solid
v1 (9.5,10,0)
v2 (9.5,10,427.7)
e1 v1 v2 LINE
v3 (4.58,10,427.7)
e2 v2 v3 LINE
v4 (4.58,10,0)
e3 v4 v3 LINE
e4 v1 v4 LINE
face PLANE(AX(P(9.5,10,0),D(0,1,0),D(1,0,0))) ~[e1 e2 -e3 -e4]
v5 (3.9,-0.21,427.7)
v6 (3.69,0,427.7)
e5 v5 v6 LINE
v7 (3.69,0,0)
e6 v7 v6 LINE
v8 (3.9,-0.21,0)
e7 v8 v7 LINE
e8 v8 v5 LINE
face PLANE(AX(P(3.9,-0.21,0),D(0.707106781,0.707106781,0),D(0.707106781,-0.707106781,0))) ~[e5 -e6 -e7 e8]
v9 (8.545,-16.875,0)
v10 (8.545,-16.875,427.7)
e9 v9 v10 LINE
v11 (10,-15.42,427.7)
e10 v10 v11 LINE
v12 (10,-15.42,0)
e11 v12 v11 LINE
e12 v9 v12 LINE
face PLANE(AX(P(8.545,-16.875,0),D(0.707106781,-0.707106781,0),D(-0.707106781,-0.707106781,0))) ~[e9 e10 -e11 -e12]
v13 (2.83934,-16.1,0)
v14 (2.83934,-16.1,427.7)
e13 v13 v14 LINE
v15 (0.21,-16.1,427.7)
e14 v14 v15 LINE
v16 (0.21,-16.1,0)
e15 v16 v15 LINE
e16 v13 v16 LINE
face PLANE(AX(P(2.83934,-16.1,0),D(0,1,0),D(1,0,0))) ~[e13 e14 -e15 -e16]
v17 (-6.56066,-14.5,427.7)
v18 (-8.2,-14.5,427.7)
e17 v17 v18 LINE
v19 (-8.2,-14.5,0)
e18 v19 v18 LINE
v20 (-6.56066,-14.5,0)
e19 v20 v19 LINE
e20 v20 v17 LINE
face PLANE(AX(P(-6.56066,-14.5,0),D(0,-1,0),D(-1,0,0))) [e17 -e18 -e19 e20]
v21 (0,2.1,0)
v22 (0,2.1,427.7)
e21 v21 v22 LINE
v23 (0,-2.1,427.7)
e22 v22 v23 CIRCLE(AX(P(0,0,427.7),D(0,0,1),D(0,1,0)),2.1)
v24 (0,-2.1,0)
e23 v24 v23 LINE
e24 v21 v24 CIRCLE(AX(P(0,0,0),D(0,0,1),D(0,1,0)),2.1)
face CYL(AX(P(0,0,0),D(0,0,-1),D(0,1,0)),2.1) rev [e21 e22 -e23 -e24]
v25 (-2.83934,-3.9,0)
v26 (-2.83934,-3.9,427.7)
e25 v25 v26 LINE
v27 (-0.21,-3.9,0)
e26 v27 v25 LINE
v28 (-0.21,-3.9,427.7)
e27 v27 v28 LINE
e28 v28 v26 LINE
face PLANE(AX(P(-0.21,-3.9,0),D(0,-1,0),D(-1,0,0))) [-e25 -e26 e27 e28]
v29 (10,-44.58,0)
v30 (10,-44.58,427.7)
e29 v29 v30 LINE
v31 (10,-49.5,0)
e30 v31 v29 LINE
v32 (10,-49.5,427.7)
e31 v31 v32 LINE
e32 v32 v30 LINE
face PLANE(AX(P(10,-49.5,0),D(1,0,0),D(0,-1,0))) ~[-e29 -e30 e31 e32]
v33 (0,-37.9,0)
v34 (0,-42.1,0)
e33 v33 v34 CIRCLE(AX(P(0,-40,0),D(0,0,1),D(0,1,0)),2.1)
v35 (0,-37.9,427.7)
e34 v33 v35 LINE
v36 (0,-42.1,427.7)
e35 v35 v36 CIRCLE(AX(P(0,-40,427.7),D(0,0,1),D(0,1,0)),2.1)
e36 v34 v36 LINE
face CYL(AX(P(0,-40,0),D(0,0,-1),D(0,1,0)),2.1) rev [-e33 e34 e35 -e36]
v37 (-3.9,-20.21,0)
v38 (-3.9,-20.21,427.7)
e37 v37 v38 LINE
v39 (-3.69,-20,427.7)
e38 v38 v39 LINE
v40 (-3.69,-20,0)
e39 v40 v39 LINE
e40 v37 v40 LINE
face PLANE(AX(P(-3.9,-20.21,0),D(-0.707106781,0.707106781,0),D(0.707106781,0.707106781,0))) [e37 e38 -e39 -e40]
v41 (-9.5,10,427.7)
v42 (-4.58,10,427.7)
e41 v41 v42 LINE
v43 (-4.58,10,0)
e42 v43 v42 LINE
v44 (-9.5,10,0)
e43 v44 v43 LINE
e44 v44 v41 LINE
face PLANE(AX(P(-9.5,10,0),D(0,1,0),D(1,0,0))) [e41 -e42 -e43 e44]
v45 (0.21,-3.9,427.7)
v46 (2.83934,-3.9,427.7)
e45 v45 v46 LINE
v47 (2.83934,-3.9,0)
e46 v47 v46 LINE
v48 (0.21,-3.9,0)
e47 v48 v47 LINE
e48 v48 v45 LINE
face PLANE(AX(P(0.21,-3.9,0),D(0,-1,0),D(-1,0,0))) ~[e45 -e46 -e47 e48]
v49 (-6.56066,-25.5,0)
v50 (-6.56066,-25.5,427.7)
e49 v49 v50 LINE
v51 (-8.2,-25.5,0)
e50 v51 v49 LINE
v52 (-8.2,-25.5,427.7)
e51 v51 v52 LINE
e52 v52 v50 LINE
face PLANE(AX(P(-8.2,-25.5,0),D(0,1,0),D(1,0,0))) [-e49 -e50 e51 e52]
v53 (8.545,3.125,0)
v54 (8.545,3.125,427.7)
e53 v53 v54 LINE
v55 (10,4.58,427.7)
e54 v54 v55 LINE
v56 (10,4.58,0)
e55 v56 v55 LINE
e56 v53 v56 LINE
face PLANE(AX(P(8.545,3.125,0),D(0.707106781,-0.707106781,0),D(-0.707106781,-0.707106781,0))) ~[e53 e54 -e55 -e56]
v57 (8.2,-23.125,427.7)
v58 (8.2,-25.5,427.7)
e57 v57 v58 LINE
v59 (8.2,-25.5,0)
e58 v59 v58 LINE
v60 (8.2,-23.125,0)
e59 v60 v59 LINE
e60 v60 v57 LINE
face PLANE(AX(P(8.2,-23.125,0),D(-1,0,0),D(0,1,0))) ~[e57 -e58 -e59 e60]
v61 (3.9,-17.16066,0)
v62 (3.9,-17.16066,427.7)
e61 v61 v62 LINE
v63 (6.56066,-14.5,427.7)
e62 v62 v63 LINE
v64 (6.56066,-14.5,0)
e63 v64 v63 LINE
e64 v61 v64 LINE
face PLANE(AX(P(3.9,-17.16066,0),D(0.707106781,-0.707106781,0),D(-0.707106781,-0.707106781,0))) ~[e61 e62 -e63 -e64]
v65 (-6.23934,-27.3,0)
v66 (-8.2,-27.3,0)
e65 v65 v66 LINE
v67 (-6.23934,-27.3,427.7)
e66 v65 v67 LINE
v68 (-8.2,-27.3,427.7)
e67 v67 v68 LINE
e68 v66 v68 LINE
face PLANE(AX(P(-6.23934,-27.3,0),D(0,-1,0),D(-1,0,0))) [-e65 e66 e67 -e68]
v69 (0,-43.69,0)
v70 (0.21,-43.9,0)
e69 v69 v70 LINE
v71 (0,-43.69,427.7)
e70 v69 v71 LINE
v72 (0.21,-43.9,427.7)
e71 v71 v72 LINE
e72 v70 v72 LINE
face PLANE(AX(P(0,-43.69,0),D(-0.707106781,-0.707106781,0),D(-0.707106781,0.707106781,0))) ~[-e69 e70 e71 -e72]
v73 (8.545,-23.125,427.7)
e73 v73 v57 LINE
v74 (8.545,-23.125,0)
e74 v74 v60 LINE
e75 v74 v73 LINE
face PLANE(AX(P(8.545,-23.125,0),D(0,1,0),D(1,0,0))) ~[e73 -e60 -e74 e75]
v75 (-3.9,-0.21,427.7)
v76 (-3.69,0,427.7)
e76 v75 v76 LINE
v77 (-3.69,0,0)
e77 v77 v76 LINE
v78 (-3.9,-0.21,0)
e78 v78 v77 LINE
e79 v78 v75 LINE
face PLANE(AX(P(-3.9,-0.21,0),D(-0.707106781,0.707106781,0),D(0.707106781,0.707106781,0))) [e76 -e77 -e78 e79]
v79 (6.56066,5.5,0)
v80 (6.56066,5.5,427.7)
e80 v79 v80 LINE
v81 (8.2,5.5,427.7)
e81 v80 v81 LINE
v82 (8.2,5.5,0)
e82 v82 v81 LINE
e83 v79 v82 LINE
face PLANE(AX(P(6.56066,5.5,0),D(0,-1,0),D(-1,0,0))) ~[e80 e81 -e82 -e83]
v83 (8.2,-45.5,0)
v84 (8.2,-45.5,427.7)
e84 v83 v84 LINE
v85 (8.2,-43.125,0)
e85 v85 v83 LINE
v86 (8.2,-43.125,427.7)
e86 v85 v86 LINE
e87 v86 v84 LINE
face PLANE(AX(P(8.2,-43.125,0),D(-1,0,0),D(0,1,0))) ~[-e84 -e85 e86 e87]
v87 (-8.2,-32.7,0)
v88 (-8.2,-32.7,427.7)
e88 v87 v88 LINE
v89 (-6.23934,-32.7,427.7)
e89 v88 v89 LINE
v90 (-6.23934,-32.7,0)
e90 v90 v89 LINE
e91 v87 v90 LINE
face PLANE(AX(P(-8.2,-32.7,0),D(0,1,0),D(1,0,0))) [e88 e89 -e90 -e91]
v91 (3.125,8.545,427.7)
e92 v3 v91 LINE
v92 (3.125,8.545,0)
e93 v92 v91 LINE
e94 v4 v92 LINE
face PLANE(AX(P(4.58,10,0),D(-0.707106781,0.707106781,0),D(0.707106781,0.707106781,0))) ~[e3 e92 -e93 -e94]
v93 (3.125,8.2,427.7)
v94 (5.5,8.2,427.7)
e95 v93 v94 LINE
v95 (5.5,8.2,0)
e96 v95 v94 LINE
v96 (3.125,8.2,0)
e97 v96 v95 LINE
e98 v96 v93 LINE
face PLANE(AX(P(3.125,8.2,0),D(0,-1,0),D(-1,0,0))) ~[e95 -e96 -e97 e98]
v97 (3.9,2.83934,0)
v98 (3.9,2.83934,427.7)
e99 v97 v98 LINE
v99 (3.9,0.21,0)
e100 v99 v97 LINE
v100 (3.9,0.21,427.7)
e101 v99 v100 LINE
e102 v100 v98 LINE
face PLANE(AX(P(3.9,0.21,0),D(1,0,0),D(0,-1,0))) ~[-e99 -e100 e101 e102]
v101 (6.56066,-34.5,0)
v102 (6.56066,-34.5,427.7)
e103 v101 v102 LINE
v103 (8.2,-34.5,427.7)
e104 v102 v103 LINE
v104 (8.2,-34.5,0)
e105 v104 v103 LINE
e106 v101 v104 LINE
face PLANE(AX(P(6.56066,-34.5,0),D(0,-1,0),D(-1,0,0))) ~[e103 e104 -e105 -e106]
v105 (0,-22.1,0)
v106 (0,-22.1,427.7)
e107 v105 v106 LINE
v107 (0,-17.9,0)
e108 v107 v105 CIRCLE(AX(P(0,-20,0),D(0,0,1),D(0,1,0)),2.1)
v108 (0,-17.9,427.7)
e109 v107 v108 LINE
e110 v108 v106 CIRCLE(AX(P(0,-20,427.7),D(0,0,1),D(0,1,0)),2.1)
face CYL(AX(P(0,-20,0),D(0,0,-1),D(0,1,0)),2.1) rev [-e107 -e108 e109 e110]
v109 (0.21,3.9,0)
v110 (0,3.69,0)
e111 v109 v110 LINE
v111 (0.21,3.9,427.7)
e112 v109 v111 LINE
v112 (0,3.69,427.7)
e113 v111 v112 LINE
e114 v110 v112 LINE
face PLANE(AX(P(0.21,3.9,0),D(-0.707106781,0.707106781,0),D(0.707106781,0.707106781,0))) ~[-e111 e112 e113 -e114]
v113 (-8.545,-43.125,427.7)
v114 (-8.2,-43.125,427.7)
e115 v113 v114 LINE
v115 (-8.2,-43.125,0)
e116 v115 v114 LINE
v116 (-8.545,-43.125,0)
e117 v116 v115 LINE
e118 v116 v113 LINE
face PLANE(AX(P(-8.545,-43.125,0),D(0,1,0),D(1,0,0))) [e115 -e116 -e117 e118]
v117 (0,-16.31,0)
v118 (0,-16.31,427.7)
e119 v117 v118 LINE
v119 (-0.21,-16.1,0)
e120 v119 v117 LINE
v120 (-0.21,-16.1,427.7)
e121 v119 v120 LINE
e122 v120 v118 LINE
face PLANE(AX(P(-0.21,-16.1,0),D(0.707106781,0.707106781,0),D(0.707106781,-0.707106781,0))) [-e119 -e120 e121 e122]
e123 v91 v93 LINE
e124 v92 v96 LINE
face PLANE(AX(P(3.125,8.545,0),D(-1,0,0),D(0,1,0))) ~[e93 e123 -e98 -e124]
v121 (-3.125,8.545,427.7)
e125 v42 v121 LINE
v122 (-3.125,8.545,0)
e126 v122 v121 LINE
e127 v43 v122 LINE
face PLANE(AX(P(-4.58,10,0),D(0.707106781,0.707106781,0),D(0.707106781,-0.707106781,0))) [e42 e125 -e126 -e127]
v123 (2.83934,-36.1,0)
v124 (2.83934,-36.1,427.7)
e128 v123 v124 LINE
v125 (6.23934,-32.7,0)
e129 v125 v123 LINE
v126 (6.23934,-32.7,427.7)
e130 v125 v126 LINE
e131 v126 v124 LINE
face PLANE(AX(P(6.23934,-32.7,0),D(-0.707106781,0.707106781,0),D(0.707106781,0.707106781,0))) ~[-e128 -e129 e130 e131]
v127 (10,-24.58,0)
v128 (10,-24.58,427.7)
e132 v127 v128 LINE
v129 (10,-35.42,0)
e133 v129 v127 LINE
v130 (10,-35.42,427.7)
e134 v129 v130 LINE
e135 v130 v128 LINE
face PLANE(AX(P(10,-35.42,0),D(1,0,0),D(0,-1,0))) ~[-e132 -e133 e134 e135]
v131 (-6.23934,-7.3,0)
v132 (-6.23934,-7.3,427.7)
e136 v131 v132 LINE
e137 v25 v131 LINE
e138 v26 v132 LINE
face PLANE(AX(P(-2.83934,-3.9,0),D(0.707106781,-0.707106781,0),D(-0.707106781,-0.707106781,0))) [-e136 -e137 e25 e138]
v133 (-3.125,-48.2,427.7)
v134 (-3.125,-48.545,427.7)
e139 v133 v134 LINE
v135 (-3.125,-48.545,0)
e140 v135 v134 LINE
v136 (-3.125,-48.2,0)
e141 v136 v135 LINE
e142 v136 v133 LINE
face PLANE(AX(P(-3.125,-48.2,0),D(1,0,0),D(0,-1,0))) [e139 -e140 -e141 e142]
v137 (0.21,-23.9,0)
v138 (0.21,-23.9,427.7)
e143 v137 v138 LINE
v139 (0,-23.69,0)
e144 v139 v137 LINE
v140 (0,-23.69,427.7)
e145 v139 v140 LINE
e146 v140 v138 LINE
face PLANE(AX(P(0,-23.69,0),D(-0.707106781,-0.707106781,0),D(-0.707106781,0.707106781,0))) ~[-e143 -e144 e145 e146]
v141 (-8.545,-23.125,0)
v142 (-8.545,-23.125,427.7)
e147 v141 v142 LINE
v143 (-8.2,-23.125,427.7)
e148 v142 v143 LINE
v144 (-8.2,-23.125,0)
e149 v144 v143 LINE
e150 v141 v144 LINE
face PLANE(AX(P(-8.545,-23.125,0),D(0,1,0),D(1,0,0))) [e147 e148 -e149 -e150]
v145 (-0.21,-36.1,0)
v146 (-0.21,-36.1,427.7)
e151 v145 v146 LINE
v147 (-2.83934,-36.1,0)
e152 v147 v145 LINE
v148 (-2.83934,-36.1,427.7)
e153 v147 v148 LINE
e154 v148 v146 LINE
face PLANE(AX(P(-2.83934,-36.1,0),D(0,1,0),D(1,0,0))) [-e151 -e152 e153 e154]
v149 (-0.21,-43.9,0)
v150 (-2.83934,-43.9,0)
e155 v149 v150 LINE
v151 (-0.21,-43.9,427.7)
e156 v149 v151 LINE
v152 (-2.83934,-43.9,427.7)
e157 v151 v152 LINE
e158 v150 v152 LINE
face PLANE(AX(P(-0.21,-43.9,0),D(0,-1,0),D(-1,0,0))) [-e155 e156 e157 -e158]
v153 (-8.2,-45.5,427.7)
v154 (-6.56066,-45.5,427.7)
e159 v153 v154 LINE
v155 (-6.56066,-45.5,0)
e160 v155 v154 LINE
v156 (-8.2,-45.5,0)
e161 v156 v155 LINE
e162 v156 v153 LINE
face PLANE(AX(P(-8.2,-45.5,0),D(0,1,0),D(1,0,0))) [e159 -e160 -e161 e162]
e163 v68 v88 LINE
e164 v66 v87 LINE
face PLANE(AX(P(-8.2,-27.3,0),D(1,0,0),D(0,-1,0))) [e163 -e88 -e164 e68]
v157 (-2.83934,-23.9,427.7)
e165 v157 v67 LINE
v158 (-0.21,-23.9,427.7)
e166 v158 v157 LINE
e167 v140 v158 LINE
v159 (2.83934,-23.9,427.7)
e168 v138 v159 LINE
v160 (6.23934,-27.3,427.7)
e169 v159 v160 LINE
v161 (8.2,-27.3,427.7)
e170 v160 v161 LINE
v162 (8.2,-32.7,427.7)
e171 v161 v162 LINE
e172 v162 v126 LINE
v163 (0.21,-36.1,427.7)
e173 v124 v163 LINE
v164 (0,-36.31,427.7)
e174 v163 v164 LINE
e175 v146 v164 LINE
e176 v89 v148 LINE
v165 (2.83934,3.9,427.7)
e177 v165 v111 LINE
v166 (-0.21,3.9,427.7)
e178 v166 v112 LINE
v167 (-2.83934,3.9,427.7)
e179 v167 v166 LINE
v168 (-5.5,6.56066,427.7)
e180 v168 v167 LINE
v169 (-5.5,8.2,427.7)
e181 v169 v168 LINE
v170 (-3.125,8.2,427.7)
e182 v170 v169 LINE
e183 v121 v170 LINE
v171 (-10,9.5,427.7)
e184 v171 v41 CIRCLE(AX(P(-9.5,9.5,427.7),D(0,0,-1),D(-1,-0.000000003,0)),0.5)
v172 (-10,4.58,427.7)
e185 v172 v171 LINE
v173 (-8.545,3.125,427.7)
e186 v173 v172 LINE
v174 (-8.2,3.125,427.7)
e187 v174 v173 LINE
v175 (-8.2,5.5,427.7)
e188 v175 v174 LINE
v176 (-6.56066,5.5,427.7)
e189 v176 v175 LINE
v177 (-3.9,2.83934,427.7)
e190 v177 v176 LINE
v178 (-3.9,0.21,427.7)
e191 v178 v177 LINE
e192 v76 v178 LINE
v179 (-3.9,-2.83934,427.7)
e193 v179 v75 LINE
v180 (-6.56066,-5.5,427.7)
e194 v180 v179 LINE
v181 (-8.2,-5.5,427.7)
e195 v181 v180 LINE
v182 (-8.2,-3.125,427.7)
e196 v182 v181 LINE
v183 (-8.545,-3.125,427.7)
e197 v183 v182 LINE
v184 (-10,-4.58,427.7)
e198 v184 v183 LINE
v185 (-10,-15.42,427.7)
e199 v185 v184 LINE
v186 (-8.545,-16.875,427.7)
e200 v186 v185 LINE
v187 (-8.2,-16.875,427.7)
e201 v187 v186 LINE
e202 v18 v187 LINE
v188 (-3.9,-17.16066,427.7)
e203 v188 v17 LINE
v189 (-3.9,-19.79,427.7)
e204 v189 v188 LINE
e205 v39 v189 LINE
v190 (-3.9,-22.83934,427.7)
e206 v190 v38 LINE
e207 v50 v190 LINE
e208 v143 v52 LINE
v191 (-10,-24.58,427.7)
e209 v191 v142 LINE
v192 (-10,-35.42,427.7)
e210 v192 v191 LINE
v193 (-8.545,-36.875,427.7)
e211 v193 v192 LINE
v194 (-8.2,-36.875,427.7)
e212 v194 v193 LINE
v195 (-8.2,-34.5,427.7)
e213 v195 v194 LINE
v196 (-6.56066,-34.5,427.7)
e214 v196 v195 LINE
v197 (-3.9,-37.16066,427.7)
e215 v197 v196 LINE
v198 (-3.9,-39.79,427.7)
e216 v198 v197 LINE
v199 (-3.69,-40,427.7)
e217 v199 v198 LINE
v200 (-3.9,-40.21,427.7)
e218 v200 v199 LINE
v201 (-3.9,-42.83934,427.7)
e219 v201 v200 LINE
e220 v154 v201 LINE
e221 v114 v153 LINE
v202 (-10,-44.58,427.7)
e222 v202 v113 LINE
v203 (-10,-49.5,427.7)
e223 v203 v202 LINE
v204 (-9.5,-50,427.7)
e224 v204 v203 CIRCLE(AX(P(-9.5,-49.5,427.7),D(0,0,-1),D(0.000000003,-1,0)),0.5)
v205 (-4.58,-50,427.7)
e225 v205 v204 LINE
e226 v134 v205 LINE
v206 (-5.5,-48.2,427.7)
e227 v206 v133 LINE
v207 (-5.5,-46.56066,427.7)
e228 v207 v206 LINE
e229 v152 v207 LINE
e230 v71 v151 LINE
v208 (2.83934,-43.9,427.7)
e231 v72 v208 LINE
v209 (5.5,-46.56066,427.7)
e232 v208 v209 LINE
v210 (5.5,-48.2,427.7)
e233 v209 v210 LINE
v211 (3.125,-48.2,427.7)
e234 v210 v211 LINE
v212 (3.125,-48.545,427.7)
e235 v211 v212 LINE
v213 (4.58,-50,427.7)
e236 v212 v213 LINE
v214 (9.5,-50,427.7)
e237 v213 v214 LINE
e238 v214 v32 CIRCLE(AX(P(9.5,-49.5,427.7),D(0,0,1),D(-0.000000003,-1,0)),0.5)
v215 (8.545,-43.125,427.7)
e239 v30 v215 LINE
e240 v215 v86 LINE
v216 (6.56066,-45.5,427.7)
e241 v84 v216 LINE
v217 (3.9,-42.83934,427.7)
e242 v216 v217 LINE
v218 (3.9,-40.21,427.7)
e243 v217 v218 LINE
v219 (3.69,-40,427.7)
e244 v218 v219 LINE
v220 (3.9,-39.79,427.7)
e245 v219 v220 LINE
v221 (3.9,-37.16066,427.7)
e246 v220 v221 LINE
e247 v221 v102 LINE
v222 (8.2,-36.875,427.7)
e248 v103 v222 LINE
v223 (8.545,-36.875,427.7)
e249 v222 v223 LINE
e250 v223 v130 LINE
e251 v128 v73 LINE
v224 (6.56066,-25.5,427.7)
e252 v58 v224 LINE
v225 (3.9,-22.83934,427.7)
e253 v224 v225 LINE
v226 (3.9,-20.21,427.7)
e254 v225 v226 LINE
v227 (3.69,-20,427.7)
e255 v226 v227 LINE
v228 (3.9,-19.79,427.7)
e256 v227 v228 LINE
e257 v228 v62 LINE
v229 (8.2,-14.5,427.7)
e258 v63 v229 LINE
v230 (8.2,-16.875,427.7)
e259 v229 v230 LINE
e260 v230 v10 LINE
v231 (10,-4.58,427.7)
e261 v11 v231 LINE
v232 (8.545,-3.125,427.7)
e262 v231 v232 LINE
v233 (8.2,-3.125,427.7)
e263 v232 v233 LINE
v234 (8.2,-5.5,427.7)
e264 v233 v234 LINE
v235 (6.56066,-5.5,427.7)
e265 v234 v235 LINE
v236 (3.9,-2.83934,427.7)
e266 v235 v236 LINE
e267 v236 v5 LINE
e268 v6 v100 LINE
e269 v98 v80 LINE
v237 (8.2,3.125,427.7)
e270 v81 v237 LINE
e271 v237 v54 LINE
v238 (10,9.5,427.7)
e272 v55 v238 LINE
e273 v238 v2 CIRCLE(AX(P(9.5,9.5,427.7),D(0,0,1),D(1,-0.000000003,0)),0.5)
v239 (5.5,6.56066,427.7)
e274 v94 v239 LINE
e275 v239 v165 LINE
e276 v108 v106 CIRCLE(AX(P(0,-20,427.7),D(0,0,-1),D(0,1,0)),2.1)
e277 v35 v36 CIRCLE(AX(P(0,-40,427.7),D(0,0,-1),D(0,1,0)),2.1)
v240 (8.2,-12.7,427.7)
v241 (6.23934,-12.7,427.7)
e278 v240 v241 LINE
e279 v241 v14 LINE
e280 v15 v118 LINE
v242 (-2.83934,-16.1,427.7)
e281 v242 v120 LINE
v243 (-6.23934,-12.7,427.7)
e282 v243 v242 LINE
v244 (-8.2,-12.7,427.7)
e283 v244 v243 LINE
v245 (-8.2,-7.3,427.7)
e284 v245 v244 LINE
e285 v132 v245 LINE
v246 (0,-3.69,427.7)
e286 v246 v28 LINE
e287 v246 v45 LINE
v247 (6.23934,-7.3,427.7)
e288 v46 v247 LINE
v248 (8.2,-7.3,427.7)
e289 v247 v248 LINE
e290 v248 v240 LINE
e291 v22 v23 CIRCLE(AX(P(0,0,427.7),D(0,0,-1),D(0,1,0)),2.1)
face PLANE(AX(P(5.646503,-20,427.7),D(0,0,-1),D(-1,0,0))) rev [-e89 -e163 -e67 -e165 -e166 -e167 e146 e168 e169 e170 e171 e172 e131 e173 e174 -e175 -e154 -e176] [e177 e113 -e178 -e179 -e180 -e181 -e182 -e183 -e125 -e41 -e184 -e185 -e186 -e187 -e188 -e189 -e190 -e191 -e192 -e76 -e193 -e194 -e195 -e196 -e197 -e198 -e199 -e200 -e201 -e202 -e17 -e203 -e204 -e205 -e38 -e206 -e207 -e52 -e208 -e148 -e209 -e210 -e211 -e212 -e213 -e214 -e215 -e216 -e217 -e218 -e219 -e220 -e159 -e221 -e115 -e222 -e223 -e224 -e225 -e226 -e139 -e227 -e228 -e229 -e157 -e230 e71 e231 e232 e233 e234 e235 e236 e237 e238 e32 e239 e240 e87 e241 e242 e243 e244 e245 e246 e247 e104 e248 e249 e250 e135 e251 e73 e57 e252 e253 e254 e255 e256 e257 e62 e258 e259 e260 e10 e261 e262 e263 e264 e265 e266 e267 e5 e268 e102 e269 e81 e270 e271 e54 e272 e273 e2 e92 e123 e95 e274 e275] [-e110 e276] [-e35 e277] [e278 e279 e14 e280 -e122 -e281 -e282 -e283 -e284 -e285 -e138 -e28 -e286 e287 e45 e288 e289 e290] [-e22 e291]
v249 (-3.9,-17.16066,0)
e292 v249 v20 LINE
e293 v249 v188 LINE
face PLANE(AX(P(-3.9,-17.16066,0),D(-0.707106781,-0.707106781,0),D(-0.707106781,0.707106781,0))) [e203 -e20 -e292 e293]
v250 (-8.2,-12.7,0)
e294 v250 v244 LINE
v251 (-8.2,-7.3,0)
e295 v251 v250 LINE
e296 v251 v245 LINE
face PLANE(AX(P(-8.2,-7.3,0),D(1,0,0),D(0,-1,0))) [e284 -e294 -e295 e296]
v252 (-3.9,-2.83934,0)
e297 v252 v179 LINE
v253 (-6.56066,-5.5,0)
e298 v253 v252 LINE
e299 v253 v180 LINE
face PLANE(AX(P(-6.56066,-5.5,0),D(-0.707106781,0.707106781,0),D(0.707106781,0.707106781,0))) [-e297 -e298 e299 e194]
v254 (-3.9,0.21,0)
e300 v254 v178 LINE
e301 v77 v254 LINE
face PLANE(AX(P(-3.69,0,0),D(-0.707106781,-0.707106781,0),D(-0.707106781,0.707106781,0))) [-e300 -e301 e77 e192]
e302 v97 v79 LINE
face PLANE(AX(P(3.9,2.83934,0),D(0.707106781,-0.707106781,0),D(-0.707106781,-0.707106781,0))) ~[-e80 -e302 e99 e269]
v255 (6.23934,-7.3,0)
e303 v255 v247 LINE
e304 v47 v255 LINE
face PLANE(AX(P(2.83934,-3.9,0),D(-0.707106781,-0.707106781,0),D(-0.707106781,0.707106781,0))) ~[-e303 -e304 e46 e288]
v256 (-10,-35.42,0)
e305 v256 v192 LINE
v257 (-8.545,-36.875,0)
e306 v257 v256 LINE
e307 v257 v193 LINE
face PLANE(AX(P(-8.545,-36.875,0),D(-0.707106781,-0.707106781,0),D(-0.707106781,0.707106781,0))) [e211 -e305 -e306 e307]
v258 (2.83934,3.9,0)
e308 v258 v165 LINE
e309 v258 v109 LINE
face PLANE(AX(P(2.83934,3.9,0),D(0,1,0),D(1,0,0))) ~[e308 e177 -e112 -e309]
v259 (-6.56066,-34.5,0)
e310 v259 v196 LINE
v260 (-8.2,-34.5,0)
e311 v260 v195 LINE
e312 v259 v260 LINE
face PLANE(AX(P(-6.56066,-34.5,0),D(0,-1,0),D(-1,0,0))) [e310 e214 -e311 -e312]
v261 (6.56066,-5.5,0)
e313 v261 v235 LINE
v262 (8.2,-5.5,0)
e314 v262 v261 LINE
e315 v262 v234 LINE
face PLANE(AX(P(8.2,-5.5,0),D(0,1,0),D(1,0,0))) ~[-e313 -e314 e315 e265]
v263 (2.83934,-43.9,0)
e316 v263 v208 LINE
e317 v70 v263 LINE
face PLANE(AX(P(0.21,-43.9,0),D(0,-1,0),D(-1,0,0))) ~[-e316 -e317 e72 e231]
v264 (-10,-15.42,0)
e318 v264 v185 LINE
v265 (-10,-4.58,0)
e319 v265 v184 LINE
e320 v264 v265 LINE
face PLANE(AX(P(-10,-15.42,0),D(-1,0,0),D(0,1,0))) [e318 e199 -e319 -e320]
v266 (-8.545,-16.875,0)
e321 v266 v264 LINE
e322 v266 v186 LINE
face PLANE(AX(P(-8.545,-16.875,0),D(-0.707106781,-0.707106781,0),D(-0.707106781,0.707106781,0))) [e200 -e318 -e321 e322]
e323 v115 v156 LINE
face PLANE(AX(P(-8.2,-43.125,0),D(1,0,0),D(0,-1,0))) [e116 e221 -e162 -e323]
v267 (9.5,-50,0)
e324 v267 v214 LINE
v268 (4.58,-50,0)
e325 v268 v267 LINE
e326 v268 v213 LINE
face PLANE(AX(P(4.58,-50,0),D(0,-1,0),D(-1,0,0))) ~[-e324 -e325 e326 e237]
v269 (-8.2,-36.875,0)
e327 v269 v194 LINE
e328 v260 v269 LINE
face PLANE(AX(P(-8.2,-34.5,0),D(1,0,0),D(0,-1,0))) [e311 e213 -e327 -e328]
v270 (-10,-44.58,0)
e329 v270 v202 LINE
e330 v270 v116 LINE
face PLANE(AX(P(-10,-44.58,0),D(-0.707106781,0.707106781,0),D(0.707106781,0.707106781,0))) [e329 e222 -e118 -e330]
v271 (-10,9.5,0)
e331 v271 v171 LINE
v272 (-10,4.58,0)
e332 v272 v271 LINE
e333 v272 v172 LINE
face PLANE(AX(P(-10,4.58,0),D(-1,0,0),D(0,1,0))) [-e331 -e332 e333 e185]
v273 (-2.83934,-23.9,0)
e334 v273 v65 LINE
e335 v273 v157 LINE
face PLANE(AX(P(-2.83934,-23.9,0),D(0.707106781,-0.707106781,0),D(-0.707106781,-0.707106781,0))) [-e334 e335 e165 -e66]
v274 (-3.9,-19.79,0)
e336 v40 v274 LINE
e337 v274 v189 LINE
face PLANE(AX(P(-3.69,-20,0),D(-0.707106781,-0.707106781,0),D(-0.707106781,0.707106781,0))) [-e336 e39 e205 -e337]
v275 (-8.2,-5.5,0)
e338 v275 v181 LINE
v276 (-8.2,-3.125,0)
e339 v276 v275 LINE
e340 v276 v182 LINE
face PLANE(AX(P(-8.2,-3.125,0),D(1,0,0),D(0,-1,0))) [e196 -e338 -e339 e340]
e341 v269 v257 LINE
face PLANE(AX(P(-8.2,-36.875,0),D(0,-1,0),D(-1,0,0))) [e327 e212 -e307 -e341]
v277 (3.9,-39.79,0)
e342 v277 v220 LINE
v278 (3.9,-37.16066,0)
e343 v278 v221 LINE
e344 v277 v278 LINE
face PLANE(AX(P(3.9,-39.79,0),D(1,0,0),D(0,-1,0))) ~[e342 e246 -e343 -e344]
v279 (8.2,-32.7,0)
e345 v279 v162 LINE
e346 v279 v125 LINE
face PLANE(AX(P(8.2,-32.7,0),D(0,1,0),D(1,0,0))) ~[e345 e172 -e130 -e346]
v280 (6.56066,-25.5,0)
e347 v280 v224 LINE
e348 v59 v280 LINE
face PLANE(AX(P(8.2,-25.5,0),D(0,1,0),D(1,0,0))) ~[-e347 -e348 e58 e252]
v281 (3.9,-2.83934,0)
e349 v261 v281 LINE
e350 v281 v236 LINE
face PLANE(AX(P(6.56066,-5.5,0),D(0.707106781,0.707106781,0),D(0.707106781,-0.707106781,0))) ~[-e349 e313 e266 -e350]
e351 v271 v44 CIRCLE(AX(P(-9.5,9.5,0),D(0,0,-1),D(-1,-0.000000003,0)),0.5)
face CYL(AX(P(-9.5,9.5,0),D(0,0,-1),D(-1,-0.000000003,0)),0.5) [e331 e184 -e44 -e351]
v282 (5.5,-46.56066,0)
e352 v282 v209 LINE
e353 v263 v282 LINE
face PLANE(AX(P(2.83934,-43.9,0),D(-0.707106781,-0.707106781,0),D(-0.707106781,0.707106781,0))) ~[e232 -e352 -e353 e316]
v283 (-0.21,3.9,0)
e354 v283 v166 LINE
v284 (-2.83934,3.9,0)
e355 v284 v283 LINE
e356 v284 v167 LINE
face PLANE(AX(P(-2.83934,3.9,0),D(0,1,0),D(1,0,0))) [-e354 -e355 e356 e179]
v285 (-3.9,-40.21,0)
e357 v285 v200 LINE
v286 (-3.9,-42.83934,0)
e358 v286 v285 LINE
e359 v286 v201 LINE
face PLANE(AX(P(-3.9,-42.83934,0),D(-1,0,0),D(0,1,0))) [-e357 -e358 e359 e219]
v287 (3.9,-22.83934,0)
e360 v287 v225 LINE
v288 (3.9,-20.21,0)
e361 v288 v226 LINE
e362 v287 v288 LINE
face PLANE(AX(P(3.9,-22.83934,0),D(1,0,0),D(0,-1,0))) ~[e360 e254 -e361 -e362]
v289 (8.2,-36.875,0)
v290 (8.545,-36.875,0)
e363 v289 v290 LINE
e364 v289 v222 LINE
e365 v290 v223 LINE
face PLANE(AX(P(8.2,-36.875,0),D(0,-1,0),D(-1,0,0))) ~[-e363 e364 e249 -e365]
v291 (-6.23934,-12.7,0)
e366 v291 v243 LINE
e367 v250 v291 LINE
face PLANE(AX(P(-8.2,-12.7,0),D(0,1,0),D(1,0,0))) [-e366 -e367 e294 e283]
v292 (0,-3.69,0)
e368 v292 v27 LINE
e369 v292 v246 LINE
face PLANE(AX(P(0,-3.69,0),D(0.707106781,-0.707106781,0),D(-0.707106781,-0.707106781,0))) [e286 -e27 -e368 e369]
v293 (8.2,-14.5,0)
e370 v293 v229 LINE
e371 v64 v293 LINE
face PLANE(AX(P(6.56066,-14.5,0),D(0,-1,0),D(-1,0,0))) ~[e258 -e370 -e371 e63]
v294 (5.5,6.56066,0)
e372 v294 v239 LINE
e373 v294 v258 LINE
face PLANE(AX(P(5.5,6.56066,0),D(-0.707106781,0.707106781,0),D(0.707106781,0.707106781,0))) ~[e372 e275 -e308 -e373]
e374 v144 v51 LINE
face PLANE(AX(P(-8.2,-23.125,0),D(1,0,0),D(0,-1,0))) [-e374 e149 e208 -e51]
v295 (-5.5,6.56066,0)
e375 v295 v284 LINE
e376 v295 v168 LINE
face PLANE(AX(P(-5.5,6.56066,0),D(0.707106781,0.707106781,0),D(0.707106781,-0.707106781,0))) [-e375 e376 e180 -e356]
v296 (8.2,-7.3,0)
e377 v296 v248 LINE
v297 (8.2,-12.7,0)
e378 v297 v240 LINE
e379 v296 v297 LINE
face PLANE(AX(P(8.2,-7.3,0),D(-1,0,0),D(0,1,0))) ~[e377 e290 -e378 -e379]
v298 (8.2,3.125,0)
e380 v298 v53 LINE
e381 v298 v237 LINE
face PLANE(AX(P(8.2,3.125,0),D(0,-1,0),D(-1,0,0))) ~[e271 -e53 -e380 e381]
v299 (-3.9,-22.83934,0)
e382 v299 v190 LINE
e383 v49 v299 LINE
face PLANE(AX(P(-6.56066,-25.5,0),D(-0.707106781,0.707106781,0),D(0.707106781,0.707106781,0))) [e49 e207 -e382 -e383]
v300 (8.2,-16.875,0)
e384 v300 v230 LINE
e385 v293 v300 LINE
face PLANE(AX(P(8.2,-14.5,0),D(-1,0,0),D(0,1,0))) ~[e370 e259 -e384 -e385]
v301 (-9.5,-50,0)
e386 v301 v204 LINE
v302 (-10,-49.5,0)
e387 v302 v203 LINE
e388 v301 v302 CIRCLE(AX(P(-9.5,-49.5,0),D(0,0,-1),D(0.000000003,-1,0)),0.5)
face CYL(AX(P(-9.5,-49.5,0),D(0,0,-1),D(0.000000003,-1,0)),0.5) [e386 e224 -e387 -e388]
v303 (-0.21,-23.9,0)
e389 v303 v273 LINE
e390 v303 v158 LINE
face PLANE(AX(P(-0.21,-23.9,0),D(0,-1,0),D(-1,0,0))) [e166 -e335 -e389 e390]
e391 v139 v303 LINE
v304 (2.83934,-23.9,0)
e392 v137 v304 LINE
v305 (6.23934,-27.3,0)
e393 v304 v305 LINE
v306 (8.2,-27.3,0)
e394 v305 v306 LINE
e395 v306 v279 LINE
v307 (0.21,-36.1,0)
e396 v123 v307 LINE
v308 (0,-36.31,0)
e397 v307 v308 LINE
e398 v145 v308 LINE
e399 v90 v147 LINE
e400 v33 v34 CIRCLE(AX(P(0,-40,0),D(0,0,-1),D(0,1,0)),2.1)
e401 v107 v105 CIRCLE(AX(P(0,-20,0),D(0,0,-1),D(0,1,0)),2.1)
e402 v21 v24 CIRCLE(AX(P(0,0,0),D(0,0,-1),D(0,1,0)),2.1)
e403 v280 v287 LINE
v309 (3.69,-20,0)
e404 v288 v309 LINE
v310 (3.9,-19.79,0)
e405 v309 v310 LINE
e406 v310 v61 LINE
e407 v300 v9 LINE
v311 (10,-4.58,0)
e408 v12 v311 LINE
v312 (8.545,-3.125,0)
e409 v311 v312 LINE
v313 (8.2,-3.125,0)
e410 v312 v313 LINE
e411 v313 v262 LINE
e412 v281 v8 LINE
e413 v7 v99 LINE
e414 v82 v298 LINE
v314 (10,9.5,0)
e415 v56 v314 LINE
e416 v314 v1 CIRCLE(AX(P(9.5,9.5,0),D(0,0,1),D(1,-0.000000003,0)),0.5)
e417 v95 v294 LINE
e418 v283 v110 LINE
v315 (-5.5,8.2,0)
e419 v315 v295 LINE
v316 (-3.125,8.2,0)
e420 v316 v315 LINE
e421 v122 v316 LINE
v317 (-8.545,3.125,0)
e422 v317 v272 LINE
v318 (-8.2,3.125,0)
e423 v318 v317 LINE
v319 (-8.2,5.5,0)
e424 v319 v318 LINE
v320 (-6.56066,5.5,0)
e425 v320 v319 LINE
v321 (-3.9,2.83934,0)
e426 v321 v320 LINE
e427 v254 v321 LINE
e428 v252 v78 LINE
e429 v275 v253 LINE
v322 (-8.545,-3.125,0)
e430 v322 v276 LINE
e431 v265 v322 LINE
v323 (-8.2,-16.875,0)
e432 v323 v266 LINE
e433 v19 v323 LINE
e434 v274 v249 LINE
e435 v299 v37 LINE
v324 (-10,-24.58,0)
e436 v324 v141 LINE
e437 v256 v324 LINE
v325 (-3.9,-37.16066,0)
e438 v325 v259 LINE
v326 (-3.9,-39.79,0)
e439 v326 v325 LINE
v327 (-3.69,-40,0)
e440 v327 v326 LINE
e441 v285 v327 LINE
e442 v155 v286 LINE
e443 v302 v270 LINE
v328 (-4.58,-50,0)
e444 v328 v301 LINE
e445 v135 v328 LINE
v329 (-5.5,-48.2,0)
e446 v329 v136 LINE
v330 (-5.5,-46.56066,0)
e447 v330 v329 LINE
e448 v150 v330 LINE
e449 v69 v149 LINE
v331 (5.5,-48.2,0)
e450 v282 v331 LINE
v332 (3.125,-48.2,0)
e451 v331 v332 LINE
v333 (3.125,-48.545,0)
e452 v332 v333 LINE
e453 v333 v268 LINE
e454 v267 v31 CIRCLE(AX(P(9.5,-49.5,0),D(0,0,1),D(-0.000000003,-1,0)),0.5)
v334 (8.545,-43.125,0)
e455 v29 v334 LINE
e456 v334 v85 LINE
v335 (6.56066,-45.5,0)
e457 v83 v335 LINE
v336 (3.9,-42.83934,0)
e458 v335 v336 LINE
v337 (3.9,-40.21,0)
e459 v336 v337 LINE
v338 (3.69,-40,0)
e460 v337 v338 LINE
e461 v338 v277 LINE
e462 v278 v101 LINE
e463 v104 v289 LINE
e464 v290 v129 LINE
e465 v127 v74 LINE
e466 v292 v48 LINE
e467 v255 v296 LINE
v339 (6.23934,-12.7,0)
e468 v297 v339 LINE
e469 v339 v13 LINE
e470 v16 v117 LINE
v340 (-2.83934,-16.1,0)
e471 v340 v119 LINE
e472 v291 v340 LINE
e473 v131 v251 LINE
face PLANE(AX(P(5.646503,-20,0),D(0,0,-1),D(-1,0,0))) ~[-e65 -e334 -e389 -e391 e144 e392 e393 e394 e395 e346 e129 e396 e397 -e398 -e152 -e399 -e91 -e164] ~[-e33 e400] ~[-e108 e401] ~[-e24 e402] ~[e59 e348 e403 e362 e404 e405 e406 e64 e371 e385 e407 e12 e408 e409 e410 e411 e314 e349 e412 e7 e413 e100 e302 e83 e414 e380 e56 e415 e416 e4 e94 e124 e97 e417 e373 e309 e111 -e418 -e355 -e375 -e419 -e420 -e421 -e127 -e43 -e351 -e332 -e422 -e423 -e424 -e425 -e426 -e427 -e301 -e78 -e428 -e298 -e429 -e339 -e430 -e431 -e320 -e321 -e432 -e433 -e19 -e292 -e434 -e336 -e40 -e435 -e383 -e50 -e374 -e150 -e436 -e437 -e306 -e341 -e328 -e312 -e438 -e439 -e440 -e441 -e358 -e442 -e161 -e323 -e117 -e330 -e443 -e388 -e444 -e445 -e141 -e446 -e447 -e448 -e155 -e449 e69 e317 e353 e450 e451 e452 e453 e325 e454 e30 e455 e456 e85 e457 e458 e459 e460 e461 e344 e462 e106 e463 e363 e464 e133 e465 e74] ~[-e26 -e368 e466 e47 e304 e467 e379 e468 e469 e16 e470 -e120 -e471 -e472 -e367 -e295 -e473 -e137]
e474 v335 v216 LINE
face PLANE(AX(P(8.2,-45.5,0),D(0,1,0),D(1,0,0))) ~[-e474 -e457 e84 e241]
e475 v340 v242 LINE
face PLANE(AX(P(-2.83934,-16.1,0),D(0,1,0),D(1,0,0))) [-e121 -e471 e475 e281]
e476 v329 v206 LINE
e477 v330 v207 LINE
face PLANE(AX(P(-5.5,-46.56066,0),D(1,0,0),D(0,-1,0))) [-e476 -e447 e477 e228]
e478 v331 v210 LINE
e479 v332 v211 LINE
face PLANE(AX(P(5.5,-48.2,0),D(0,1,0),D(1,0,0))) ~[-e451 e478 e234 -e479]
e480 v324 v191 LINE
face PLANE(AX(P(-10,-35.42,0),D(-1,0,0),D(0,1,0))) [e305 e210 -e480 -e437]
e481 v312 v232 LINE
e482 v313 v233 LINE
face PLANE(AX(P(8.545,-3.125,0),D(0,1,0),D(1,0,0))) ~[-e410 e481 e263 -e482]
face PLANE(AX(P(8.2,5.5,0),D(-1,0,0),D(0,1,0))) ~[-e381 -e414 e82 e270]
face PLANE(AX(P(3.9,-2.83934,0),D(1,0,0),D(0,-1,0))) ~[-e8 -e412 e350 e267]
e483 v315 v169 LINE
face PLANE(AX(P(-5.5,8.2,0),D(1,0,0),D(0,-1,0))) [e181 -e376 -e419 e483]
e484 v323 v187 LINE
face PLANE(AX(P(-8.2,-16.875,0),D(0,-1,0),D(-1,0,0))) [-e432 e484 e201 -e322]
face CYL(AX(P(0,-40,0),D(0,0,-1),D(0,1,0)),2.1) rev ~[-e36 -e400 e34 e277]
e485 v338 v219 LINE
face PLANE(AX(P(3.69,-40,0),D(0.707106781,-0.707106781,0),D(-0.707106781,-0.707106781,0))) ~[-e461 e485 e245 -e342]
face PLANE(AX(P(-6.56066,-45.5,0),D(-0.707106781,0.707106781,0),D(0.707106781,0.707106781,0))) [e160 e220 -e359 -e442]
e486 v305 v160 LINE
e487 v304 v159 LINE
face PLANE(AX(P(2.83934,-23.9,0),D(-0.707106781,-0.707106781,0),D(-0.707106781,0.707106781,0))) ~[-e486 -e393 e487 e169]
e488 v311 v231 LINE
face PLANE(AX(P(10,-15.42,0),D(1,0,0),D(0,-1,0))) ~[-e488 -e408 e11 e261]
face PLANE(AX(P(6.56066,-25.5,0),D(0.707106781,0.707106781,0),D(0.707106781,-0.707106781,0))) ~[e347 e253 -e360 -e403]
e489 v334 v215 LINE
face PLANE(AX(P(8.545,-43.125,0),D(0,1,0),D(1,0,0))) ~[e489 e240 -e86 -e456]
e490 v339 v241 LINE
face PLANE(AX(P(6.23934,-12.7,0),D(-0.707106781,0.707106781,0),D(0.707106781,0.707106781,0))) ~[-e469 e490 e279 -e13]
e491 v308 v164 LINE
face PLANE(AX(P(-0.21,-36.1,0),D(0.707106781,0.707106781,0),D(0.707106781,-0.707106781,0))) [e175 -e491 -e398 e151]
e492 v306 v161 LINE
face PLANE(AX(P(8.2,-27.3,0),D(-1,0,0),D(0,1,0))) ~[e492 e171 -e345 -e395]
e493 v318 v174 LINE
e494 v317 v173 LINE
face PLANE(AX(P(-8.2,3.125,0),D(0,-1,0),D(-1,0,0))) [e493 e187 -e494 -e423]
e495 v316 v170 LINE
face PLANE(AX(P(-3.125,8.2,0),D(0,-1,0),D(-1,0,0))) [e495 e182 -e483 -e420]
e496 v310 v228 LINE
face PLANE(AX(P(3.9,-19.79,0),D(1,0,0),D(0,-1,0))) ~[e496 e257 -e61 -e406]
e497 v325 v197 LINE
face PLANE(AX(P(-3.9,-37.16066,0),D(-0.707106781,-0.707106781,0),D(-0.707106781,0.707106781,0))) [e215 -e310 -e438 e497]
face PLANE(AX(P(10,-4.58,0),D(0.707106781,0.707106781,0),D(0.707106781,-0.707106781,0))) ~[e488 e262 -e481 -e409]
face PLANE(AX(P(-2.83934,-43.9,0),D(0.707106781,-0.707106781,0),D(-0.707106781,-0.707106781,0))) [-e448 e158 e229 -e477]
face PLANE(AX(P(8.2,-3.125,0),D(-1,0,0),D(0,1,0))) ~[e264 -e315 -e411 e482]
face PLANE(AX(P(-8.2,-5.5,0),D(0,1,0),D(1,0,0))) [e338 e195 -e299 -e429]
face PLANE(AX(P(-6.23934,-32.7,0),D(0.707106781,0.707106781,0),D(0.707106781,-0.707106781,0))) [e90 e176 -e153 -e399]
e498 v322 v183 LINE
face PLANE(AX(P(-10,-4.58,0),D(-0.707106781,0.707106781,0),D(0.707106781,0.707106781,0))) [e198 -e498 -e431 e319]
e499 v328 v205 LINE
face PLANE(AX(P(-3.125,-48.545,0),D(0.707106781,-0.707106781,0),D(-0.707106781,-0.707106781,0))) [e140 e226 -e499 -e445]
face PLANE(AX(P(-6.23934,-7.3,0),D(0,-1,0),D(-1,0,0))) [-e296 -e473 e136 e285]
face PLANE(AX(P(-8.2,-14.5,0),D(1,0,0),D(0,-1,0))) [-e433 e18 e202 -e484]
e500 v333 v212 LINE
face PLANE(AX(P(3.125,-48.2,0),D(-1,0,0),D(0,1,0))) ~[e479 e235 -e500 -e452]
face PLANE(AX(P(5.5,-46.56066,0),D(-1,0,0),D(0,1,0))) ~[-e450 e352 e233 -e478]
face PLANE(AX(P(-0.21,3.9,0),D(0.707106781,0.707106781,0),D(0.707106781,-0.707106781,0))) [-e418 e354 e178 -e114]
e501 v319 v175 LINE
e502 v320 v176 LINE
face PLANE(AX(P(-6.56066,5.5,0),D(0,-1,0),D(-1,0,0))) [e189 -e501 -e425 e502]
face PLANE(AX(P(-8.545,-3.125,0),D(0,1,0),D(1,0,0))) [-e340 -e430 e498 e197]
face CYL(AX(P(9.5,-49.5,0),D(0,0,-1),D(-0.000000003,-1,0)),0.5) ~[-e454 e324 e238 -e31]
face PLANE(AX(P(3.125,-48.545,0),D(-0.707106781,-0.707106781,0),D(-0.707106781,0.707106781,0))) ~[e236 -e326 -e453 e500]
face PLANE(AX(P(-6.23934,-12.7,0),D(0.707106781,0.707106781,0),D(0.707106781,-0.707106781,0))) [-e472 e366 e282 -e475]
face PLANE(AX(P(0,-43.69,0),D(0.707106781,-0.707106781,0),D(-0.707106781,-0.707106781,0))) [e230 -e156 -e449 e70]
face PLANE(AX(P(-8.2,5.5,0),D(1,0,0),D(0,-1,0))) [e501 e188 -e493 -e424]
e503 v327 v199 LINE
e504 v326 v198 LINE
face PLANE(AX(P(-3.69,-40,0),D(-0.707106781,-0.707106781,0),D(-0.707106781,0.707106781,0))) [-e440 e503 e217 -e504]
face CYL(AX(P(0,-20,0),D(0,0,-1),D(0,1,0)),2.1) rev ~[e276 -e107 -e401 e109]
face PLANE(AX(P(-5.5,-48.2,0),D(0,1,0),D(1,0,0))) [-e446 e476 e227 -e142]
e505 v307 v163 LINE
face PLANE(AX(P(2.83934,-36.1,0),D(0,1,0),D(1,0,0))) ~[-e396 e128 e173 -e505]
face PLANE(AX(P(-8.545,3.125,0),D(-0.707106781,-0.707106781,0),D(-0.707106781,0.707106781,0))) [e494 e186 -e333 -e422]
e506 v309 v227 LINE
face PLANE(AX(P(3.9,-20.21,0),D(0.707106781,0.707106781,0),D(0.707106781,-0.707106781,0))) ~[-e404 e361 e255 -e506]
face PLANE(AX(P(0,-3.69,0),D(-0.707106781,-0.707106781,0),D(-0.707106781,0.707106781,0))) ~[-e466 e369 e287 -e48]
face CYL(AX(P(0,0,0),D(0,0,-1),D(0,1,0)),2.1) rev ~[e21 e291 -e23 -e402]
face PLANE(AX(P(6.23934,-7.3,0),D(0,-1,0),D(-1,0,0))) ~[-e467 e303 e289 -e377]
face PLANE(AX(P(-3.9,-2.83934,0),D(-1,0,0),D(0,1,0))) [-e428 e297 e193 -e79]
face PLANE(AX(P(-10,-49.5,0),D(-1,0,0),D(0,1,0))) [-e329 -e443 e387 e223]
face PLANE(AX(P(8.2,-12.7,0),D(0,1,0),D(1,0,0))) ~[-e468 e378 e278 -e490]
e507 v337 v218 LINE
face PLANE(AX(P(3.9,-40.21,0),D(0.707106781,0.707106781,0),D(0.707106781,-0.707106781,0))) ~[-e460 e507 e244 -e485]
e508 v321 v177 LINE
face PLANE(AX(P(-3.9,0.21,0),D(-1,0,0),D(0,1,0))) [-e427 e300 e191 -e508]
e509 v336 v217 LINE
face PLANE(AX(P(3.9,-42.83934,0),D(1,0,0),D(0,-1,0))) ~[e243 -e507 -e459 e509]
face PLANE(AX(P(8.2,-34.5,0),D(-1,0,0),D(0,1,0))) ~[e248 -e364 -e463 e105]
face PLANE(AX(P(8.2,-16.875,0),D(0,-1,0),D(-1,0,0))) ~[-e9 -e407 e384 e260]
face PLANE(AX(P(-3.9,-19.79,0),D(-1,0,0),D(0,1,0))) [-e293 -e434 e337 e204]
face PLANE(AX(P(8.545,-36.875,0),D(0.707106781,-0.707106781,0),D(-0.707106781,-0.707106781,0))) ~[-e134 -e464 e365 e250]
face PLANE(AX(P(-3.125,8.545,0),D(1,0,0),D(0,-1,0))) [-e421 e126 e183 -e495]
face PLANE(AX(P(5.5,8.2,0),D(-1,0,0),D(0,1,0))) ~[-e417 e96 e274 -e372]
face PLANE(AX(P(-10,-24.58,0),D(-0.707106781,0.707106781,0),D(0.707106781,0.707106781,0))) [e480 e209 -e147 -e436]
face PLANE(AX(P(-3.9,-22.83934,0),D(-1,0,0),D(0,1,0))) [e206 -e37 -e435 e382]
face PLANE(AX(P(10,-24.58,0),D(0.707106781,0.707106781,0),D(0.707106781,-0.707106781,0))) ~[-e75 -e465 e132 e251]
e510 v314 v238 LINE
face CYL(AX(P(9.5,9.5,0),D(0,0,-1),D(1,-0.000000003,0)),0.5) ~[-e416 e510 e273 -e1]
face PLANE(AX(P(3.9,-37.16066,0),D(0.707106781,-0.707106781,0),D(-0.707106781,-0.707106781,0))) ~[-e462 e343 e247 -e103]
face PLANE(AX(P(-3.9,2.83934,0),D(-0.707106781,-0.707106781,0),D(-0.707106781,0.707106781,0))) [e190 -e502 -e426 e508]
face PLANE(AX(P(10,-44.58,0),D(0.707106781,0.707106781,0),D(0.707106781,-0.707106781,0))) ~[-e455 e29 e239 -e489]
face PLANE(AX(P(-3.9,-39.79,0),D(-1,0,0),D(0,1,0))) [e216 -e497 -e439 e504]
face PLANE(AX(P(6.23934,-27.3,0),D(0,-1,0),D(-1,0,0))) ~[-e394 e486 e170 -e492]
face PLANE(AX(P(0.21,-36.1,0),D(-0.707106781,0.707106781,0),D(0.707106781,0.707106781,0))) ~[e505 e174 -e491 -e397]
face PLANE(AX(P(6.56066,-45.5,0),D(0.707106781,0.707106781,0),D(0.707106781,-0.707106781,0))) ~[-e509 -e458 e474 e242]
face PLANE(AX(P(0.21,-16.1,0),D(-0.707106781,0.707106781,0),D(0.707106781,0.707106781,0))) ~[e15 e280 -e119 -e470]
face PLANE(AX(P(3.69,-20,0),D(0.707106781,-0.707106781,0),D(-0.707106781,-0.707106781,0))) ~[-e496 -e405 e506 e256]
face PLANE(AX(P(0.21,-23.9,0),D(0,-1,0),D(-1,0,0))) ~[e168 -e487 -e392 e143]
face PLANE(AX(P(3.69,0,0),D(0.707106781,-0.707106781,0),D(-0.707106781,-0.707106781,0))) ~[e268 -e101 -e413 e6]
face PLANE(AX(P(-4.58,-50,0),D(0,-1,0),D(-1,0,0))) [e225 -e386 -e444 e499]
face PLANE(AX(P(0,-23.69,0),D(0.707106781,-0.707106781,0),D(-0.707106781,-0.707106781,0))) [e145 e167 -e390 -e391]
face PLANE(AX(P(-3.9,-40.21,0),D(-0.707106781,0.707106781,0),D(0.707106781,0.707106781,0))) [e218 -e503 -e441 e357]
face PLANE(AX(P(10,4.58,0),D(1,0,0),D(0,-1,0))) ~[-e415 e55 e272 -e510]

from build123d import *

# Parameters (mm, degrees)
BOSS_EXTRU_1_DEPTH = 427.7


with BuildPart() as part:
    # Esquisse1 → Boss.-Extru.1 (new body)
    with BuildSketch(Plane.XY):
        with BuildLine():
            Line((-9.5, 10), (-4.58, 10))
            Line((-4.58, 10), (-3.125, 8.545))
            Line((-3.125, 8.545), (-3.125, 8.2))
            Line((-3.125, 8.2), (-5.5, 8.2))
            Line((-5.5, 8.2), (-5.5, 6.560660172))
            Line((-5.5, 6.560660172), (-2.839339828, 3.9))
            Line((-2.839339828, 3.9), (-0.21, 3.9))
            Line((-0.21, 3.9), (0, 3.69))
            Line((0, 3.69), (0, 2.1))
            ThreePointArc((0, 2.1), (-2.1, 0), (0, -2.1))
            Line((0, -2.1), (0, -3.69))
            Line((0, -3.69), (-0.21, -3.9))
            Line((-0.21, -3.9), (-2.839339828, -3.9))
            Line((-2.839339828, -3.9), (-6.239339828, -7.3))
            Line((-6.239339828, -7.3), (-8.2, -7.3))
            Line((-8.2, -7.3), (-8.2, -12.7))
            Line((-8.2, -12.7), (-6.239339828, -12.7))
            Line((-6.239339828, -12.7), (-2.839339828, -16.1))
            Line((-2.839339828, -16.1), (-0.21, -16.1))
            Line((-0.21, -16.1), (0, -16.31))
            Line((0, -16.31), (0, -17.9))
            ThreePointArc((0, -17.9), (-2.1, -20), (0, -22.1))
            Line((0, -22.1), (0, -23.69))
            Line((0, -23.69), (-0.21, -23.9))
            Line((-0.21, -23.9), (-2.839339828, -23.9))
            Line((-2.839339828, -23.9), (-6.239339828, -27.3))
            Line((-6.239339828, -27.3), (-8.2, -27.3))
            Line((-8.2, -27.3), (-8.2, -32.7))
            Line((-8.2, -32.7), (-6.239339828, -32.7))
            Line((-6.239339828, -32.7), (-2.839339828, -36.1))
            Line((-2.839339828, -36.1), (-0.21, -36.1))
            Line((-0.21, -36.1), (0, -36.31))
            Line((0, -36.31), (0, -37.9))
            ThreePointArc((0, -37.9), (-2.1, -40), (0, -42.1))
            Line((0, -42.1), (0, -43.69))
            Line((0, -43.69), (-0.21, -43.9))
            Line((-0.21, -43.9), (-2.839339828, -43.9))
            Line((-2.839339828, -43.9), (-5.5, -46.560660172))
            Line((-5.5, -46.560660172), (-5.5, -48.2))
            Line((-5.5, -48.2), (-3.125, -48.2))
            Line((-3.125, -48.2), (-3.125, -48.545))
            Line((-3.125, -48.545), (-4.58, -50))
            Line((-4.58, -50), (-9.5, -50))
            ThreePointArc((-9.5, -50), (-9.853553391, -49.853553391), (-10, -49.5))
            Line((-10, -49.5), (-10, -44.58))
            Line((-10, -44.58), (-8.545, -43.125))
            Line((-8.545, -43.125), (-8.2, -43.125))
            Line((-8.2, -43.125), (-8.2, -45.5))
            Line((-8.2, -45.5), (-6.560660172, -45.5))
            Line((-6.560660172, -45.5), (-3.9, -42.839339828))
            Line((-3.9, -42.839339828), (-3.9, -40.21))
            Line((-3.9, -40.21), (-3.69, -40))
            Line((-3.69, -40), (-3.9, -39.79))
            Line((-3.9, -39.79), (-3.9, -37.160660172))
            Line((-3.9, -37.160660172), (-6.560660172, -34.5))
            Line((-6.560660172, -34.5), (-8.2, -34.5))
            Line((-8.2, -34.5), (-8.2, -36.875))
            Line((-8.2, -36.875), (-8.545, -36.875))
            Line((-8.545, -36.875), (-10, -35.42))
            Line((-10, -35.42), (-10, -24.58))
            Line((-10, -24.58), (-8.545, -23.125))
            Line((-8.545, -23.125), (-8.2, -23.125))
            Line((-8.2, -23.125), (-8.2, -25.5))
            Line((-8.2, -25.5), (-6.560660172, -25.5))
            Line((-6.560660172, -25.5), (-3.9, -22.839339828))
            Line((-3.9, -22.839339828), (-3.9, -20.21))
            Line((-3.9, -20.21), (-3.69, -20))
            Line((-3.69, -20), (-3.9, -19.79))
            Line((-3.9, -19.79), (-3.9, -17.160660172))
            Line((-3.9, -17.160660172), (-6.560660172, -14.5))
            Line((-6.560660172, -14.5), (-8.2, -14.5))
            Line((-8.2, -14.5), (-8.2, -16.875))
            Line((-8.2, -16.875), (-8.545, -16.875))
            Line((-8.545, -16.875), (-10, -15.42))
            Line((-10, -15.42), (-10, -4.58))
            Line((-10, -4.58), (-8.545, -3.125))
            Line((-8.545, -3.125), (-8.2, -3.125))
            Line((-8.2, -3.125), (-8.2, -5.5))
            Line((-8.2, -5.5), (-6.560660172, -5.5))
            Line((-6.560660172, -5.5), (-3.9, -2.839339828))
            Line((-3.9, -2.839339828), (-3.9, -0.21))
            Line((-3.9, -0.21), (-3.69, 0))
            Line((-3.69, 0), (-3.9, 0.21))
            Line((-3.9, 0.21), (-3.9, 2.839339828))
            Line((-3.9, 2.839339828), (-6.560660172, 5.5))
            Line((-6.560660172, 5.5), (-8.2, 5.5))
            Line((-8.2, 5.5), (-8.2, 3.125))
            Line((-8.2, 3.125), (-8.545, 3.125))
            Line((-8.545, 3.125), (-10, 4.58))
            Line((-10, 4.58), (-10, 9.5))
            ThreePointArc((-10, 9.5), (-9.853553391, 9.853553391), (-9.5, 10))
        make_face()
    boss_extru_1 = extrude(amount=BOSS_EXTRU_1_DEPTH)

    # Symétrie1: Boss.-Extru.1 across plane
    add(boss_extru_1.mirror(Plane(origin=(0, 3.69, 427.7), x_dir=(0, 0, 1), z_dir=(-1, 0, 0))))


solid = part.part
